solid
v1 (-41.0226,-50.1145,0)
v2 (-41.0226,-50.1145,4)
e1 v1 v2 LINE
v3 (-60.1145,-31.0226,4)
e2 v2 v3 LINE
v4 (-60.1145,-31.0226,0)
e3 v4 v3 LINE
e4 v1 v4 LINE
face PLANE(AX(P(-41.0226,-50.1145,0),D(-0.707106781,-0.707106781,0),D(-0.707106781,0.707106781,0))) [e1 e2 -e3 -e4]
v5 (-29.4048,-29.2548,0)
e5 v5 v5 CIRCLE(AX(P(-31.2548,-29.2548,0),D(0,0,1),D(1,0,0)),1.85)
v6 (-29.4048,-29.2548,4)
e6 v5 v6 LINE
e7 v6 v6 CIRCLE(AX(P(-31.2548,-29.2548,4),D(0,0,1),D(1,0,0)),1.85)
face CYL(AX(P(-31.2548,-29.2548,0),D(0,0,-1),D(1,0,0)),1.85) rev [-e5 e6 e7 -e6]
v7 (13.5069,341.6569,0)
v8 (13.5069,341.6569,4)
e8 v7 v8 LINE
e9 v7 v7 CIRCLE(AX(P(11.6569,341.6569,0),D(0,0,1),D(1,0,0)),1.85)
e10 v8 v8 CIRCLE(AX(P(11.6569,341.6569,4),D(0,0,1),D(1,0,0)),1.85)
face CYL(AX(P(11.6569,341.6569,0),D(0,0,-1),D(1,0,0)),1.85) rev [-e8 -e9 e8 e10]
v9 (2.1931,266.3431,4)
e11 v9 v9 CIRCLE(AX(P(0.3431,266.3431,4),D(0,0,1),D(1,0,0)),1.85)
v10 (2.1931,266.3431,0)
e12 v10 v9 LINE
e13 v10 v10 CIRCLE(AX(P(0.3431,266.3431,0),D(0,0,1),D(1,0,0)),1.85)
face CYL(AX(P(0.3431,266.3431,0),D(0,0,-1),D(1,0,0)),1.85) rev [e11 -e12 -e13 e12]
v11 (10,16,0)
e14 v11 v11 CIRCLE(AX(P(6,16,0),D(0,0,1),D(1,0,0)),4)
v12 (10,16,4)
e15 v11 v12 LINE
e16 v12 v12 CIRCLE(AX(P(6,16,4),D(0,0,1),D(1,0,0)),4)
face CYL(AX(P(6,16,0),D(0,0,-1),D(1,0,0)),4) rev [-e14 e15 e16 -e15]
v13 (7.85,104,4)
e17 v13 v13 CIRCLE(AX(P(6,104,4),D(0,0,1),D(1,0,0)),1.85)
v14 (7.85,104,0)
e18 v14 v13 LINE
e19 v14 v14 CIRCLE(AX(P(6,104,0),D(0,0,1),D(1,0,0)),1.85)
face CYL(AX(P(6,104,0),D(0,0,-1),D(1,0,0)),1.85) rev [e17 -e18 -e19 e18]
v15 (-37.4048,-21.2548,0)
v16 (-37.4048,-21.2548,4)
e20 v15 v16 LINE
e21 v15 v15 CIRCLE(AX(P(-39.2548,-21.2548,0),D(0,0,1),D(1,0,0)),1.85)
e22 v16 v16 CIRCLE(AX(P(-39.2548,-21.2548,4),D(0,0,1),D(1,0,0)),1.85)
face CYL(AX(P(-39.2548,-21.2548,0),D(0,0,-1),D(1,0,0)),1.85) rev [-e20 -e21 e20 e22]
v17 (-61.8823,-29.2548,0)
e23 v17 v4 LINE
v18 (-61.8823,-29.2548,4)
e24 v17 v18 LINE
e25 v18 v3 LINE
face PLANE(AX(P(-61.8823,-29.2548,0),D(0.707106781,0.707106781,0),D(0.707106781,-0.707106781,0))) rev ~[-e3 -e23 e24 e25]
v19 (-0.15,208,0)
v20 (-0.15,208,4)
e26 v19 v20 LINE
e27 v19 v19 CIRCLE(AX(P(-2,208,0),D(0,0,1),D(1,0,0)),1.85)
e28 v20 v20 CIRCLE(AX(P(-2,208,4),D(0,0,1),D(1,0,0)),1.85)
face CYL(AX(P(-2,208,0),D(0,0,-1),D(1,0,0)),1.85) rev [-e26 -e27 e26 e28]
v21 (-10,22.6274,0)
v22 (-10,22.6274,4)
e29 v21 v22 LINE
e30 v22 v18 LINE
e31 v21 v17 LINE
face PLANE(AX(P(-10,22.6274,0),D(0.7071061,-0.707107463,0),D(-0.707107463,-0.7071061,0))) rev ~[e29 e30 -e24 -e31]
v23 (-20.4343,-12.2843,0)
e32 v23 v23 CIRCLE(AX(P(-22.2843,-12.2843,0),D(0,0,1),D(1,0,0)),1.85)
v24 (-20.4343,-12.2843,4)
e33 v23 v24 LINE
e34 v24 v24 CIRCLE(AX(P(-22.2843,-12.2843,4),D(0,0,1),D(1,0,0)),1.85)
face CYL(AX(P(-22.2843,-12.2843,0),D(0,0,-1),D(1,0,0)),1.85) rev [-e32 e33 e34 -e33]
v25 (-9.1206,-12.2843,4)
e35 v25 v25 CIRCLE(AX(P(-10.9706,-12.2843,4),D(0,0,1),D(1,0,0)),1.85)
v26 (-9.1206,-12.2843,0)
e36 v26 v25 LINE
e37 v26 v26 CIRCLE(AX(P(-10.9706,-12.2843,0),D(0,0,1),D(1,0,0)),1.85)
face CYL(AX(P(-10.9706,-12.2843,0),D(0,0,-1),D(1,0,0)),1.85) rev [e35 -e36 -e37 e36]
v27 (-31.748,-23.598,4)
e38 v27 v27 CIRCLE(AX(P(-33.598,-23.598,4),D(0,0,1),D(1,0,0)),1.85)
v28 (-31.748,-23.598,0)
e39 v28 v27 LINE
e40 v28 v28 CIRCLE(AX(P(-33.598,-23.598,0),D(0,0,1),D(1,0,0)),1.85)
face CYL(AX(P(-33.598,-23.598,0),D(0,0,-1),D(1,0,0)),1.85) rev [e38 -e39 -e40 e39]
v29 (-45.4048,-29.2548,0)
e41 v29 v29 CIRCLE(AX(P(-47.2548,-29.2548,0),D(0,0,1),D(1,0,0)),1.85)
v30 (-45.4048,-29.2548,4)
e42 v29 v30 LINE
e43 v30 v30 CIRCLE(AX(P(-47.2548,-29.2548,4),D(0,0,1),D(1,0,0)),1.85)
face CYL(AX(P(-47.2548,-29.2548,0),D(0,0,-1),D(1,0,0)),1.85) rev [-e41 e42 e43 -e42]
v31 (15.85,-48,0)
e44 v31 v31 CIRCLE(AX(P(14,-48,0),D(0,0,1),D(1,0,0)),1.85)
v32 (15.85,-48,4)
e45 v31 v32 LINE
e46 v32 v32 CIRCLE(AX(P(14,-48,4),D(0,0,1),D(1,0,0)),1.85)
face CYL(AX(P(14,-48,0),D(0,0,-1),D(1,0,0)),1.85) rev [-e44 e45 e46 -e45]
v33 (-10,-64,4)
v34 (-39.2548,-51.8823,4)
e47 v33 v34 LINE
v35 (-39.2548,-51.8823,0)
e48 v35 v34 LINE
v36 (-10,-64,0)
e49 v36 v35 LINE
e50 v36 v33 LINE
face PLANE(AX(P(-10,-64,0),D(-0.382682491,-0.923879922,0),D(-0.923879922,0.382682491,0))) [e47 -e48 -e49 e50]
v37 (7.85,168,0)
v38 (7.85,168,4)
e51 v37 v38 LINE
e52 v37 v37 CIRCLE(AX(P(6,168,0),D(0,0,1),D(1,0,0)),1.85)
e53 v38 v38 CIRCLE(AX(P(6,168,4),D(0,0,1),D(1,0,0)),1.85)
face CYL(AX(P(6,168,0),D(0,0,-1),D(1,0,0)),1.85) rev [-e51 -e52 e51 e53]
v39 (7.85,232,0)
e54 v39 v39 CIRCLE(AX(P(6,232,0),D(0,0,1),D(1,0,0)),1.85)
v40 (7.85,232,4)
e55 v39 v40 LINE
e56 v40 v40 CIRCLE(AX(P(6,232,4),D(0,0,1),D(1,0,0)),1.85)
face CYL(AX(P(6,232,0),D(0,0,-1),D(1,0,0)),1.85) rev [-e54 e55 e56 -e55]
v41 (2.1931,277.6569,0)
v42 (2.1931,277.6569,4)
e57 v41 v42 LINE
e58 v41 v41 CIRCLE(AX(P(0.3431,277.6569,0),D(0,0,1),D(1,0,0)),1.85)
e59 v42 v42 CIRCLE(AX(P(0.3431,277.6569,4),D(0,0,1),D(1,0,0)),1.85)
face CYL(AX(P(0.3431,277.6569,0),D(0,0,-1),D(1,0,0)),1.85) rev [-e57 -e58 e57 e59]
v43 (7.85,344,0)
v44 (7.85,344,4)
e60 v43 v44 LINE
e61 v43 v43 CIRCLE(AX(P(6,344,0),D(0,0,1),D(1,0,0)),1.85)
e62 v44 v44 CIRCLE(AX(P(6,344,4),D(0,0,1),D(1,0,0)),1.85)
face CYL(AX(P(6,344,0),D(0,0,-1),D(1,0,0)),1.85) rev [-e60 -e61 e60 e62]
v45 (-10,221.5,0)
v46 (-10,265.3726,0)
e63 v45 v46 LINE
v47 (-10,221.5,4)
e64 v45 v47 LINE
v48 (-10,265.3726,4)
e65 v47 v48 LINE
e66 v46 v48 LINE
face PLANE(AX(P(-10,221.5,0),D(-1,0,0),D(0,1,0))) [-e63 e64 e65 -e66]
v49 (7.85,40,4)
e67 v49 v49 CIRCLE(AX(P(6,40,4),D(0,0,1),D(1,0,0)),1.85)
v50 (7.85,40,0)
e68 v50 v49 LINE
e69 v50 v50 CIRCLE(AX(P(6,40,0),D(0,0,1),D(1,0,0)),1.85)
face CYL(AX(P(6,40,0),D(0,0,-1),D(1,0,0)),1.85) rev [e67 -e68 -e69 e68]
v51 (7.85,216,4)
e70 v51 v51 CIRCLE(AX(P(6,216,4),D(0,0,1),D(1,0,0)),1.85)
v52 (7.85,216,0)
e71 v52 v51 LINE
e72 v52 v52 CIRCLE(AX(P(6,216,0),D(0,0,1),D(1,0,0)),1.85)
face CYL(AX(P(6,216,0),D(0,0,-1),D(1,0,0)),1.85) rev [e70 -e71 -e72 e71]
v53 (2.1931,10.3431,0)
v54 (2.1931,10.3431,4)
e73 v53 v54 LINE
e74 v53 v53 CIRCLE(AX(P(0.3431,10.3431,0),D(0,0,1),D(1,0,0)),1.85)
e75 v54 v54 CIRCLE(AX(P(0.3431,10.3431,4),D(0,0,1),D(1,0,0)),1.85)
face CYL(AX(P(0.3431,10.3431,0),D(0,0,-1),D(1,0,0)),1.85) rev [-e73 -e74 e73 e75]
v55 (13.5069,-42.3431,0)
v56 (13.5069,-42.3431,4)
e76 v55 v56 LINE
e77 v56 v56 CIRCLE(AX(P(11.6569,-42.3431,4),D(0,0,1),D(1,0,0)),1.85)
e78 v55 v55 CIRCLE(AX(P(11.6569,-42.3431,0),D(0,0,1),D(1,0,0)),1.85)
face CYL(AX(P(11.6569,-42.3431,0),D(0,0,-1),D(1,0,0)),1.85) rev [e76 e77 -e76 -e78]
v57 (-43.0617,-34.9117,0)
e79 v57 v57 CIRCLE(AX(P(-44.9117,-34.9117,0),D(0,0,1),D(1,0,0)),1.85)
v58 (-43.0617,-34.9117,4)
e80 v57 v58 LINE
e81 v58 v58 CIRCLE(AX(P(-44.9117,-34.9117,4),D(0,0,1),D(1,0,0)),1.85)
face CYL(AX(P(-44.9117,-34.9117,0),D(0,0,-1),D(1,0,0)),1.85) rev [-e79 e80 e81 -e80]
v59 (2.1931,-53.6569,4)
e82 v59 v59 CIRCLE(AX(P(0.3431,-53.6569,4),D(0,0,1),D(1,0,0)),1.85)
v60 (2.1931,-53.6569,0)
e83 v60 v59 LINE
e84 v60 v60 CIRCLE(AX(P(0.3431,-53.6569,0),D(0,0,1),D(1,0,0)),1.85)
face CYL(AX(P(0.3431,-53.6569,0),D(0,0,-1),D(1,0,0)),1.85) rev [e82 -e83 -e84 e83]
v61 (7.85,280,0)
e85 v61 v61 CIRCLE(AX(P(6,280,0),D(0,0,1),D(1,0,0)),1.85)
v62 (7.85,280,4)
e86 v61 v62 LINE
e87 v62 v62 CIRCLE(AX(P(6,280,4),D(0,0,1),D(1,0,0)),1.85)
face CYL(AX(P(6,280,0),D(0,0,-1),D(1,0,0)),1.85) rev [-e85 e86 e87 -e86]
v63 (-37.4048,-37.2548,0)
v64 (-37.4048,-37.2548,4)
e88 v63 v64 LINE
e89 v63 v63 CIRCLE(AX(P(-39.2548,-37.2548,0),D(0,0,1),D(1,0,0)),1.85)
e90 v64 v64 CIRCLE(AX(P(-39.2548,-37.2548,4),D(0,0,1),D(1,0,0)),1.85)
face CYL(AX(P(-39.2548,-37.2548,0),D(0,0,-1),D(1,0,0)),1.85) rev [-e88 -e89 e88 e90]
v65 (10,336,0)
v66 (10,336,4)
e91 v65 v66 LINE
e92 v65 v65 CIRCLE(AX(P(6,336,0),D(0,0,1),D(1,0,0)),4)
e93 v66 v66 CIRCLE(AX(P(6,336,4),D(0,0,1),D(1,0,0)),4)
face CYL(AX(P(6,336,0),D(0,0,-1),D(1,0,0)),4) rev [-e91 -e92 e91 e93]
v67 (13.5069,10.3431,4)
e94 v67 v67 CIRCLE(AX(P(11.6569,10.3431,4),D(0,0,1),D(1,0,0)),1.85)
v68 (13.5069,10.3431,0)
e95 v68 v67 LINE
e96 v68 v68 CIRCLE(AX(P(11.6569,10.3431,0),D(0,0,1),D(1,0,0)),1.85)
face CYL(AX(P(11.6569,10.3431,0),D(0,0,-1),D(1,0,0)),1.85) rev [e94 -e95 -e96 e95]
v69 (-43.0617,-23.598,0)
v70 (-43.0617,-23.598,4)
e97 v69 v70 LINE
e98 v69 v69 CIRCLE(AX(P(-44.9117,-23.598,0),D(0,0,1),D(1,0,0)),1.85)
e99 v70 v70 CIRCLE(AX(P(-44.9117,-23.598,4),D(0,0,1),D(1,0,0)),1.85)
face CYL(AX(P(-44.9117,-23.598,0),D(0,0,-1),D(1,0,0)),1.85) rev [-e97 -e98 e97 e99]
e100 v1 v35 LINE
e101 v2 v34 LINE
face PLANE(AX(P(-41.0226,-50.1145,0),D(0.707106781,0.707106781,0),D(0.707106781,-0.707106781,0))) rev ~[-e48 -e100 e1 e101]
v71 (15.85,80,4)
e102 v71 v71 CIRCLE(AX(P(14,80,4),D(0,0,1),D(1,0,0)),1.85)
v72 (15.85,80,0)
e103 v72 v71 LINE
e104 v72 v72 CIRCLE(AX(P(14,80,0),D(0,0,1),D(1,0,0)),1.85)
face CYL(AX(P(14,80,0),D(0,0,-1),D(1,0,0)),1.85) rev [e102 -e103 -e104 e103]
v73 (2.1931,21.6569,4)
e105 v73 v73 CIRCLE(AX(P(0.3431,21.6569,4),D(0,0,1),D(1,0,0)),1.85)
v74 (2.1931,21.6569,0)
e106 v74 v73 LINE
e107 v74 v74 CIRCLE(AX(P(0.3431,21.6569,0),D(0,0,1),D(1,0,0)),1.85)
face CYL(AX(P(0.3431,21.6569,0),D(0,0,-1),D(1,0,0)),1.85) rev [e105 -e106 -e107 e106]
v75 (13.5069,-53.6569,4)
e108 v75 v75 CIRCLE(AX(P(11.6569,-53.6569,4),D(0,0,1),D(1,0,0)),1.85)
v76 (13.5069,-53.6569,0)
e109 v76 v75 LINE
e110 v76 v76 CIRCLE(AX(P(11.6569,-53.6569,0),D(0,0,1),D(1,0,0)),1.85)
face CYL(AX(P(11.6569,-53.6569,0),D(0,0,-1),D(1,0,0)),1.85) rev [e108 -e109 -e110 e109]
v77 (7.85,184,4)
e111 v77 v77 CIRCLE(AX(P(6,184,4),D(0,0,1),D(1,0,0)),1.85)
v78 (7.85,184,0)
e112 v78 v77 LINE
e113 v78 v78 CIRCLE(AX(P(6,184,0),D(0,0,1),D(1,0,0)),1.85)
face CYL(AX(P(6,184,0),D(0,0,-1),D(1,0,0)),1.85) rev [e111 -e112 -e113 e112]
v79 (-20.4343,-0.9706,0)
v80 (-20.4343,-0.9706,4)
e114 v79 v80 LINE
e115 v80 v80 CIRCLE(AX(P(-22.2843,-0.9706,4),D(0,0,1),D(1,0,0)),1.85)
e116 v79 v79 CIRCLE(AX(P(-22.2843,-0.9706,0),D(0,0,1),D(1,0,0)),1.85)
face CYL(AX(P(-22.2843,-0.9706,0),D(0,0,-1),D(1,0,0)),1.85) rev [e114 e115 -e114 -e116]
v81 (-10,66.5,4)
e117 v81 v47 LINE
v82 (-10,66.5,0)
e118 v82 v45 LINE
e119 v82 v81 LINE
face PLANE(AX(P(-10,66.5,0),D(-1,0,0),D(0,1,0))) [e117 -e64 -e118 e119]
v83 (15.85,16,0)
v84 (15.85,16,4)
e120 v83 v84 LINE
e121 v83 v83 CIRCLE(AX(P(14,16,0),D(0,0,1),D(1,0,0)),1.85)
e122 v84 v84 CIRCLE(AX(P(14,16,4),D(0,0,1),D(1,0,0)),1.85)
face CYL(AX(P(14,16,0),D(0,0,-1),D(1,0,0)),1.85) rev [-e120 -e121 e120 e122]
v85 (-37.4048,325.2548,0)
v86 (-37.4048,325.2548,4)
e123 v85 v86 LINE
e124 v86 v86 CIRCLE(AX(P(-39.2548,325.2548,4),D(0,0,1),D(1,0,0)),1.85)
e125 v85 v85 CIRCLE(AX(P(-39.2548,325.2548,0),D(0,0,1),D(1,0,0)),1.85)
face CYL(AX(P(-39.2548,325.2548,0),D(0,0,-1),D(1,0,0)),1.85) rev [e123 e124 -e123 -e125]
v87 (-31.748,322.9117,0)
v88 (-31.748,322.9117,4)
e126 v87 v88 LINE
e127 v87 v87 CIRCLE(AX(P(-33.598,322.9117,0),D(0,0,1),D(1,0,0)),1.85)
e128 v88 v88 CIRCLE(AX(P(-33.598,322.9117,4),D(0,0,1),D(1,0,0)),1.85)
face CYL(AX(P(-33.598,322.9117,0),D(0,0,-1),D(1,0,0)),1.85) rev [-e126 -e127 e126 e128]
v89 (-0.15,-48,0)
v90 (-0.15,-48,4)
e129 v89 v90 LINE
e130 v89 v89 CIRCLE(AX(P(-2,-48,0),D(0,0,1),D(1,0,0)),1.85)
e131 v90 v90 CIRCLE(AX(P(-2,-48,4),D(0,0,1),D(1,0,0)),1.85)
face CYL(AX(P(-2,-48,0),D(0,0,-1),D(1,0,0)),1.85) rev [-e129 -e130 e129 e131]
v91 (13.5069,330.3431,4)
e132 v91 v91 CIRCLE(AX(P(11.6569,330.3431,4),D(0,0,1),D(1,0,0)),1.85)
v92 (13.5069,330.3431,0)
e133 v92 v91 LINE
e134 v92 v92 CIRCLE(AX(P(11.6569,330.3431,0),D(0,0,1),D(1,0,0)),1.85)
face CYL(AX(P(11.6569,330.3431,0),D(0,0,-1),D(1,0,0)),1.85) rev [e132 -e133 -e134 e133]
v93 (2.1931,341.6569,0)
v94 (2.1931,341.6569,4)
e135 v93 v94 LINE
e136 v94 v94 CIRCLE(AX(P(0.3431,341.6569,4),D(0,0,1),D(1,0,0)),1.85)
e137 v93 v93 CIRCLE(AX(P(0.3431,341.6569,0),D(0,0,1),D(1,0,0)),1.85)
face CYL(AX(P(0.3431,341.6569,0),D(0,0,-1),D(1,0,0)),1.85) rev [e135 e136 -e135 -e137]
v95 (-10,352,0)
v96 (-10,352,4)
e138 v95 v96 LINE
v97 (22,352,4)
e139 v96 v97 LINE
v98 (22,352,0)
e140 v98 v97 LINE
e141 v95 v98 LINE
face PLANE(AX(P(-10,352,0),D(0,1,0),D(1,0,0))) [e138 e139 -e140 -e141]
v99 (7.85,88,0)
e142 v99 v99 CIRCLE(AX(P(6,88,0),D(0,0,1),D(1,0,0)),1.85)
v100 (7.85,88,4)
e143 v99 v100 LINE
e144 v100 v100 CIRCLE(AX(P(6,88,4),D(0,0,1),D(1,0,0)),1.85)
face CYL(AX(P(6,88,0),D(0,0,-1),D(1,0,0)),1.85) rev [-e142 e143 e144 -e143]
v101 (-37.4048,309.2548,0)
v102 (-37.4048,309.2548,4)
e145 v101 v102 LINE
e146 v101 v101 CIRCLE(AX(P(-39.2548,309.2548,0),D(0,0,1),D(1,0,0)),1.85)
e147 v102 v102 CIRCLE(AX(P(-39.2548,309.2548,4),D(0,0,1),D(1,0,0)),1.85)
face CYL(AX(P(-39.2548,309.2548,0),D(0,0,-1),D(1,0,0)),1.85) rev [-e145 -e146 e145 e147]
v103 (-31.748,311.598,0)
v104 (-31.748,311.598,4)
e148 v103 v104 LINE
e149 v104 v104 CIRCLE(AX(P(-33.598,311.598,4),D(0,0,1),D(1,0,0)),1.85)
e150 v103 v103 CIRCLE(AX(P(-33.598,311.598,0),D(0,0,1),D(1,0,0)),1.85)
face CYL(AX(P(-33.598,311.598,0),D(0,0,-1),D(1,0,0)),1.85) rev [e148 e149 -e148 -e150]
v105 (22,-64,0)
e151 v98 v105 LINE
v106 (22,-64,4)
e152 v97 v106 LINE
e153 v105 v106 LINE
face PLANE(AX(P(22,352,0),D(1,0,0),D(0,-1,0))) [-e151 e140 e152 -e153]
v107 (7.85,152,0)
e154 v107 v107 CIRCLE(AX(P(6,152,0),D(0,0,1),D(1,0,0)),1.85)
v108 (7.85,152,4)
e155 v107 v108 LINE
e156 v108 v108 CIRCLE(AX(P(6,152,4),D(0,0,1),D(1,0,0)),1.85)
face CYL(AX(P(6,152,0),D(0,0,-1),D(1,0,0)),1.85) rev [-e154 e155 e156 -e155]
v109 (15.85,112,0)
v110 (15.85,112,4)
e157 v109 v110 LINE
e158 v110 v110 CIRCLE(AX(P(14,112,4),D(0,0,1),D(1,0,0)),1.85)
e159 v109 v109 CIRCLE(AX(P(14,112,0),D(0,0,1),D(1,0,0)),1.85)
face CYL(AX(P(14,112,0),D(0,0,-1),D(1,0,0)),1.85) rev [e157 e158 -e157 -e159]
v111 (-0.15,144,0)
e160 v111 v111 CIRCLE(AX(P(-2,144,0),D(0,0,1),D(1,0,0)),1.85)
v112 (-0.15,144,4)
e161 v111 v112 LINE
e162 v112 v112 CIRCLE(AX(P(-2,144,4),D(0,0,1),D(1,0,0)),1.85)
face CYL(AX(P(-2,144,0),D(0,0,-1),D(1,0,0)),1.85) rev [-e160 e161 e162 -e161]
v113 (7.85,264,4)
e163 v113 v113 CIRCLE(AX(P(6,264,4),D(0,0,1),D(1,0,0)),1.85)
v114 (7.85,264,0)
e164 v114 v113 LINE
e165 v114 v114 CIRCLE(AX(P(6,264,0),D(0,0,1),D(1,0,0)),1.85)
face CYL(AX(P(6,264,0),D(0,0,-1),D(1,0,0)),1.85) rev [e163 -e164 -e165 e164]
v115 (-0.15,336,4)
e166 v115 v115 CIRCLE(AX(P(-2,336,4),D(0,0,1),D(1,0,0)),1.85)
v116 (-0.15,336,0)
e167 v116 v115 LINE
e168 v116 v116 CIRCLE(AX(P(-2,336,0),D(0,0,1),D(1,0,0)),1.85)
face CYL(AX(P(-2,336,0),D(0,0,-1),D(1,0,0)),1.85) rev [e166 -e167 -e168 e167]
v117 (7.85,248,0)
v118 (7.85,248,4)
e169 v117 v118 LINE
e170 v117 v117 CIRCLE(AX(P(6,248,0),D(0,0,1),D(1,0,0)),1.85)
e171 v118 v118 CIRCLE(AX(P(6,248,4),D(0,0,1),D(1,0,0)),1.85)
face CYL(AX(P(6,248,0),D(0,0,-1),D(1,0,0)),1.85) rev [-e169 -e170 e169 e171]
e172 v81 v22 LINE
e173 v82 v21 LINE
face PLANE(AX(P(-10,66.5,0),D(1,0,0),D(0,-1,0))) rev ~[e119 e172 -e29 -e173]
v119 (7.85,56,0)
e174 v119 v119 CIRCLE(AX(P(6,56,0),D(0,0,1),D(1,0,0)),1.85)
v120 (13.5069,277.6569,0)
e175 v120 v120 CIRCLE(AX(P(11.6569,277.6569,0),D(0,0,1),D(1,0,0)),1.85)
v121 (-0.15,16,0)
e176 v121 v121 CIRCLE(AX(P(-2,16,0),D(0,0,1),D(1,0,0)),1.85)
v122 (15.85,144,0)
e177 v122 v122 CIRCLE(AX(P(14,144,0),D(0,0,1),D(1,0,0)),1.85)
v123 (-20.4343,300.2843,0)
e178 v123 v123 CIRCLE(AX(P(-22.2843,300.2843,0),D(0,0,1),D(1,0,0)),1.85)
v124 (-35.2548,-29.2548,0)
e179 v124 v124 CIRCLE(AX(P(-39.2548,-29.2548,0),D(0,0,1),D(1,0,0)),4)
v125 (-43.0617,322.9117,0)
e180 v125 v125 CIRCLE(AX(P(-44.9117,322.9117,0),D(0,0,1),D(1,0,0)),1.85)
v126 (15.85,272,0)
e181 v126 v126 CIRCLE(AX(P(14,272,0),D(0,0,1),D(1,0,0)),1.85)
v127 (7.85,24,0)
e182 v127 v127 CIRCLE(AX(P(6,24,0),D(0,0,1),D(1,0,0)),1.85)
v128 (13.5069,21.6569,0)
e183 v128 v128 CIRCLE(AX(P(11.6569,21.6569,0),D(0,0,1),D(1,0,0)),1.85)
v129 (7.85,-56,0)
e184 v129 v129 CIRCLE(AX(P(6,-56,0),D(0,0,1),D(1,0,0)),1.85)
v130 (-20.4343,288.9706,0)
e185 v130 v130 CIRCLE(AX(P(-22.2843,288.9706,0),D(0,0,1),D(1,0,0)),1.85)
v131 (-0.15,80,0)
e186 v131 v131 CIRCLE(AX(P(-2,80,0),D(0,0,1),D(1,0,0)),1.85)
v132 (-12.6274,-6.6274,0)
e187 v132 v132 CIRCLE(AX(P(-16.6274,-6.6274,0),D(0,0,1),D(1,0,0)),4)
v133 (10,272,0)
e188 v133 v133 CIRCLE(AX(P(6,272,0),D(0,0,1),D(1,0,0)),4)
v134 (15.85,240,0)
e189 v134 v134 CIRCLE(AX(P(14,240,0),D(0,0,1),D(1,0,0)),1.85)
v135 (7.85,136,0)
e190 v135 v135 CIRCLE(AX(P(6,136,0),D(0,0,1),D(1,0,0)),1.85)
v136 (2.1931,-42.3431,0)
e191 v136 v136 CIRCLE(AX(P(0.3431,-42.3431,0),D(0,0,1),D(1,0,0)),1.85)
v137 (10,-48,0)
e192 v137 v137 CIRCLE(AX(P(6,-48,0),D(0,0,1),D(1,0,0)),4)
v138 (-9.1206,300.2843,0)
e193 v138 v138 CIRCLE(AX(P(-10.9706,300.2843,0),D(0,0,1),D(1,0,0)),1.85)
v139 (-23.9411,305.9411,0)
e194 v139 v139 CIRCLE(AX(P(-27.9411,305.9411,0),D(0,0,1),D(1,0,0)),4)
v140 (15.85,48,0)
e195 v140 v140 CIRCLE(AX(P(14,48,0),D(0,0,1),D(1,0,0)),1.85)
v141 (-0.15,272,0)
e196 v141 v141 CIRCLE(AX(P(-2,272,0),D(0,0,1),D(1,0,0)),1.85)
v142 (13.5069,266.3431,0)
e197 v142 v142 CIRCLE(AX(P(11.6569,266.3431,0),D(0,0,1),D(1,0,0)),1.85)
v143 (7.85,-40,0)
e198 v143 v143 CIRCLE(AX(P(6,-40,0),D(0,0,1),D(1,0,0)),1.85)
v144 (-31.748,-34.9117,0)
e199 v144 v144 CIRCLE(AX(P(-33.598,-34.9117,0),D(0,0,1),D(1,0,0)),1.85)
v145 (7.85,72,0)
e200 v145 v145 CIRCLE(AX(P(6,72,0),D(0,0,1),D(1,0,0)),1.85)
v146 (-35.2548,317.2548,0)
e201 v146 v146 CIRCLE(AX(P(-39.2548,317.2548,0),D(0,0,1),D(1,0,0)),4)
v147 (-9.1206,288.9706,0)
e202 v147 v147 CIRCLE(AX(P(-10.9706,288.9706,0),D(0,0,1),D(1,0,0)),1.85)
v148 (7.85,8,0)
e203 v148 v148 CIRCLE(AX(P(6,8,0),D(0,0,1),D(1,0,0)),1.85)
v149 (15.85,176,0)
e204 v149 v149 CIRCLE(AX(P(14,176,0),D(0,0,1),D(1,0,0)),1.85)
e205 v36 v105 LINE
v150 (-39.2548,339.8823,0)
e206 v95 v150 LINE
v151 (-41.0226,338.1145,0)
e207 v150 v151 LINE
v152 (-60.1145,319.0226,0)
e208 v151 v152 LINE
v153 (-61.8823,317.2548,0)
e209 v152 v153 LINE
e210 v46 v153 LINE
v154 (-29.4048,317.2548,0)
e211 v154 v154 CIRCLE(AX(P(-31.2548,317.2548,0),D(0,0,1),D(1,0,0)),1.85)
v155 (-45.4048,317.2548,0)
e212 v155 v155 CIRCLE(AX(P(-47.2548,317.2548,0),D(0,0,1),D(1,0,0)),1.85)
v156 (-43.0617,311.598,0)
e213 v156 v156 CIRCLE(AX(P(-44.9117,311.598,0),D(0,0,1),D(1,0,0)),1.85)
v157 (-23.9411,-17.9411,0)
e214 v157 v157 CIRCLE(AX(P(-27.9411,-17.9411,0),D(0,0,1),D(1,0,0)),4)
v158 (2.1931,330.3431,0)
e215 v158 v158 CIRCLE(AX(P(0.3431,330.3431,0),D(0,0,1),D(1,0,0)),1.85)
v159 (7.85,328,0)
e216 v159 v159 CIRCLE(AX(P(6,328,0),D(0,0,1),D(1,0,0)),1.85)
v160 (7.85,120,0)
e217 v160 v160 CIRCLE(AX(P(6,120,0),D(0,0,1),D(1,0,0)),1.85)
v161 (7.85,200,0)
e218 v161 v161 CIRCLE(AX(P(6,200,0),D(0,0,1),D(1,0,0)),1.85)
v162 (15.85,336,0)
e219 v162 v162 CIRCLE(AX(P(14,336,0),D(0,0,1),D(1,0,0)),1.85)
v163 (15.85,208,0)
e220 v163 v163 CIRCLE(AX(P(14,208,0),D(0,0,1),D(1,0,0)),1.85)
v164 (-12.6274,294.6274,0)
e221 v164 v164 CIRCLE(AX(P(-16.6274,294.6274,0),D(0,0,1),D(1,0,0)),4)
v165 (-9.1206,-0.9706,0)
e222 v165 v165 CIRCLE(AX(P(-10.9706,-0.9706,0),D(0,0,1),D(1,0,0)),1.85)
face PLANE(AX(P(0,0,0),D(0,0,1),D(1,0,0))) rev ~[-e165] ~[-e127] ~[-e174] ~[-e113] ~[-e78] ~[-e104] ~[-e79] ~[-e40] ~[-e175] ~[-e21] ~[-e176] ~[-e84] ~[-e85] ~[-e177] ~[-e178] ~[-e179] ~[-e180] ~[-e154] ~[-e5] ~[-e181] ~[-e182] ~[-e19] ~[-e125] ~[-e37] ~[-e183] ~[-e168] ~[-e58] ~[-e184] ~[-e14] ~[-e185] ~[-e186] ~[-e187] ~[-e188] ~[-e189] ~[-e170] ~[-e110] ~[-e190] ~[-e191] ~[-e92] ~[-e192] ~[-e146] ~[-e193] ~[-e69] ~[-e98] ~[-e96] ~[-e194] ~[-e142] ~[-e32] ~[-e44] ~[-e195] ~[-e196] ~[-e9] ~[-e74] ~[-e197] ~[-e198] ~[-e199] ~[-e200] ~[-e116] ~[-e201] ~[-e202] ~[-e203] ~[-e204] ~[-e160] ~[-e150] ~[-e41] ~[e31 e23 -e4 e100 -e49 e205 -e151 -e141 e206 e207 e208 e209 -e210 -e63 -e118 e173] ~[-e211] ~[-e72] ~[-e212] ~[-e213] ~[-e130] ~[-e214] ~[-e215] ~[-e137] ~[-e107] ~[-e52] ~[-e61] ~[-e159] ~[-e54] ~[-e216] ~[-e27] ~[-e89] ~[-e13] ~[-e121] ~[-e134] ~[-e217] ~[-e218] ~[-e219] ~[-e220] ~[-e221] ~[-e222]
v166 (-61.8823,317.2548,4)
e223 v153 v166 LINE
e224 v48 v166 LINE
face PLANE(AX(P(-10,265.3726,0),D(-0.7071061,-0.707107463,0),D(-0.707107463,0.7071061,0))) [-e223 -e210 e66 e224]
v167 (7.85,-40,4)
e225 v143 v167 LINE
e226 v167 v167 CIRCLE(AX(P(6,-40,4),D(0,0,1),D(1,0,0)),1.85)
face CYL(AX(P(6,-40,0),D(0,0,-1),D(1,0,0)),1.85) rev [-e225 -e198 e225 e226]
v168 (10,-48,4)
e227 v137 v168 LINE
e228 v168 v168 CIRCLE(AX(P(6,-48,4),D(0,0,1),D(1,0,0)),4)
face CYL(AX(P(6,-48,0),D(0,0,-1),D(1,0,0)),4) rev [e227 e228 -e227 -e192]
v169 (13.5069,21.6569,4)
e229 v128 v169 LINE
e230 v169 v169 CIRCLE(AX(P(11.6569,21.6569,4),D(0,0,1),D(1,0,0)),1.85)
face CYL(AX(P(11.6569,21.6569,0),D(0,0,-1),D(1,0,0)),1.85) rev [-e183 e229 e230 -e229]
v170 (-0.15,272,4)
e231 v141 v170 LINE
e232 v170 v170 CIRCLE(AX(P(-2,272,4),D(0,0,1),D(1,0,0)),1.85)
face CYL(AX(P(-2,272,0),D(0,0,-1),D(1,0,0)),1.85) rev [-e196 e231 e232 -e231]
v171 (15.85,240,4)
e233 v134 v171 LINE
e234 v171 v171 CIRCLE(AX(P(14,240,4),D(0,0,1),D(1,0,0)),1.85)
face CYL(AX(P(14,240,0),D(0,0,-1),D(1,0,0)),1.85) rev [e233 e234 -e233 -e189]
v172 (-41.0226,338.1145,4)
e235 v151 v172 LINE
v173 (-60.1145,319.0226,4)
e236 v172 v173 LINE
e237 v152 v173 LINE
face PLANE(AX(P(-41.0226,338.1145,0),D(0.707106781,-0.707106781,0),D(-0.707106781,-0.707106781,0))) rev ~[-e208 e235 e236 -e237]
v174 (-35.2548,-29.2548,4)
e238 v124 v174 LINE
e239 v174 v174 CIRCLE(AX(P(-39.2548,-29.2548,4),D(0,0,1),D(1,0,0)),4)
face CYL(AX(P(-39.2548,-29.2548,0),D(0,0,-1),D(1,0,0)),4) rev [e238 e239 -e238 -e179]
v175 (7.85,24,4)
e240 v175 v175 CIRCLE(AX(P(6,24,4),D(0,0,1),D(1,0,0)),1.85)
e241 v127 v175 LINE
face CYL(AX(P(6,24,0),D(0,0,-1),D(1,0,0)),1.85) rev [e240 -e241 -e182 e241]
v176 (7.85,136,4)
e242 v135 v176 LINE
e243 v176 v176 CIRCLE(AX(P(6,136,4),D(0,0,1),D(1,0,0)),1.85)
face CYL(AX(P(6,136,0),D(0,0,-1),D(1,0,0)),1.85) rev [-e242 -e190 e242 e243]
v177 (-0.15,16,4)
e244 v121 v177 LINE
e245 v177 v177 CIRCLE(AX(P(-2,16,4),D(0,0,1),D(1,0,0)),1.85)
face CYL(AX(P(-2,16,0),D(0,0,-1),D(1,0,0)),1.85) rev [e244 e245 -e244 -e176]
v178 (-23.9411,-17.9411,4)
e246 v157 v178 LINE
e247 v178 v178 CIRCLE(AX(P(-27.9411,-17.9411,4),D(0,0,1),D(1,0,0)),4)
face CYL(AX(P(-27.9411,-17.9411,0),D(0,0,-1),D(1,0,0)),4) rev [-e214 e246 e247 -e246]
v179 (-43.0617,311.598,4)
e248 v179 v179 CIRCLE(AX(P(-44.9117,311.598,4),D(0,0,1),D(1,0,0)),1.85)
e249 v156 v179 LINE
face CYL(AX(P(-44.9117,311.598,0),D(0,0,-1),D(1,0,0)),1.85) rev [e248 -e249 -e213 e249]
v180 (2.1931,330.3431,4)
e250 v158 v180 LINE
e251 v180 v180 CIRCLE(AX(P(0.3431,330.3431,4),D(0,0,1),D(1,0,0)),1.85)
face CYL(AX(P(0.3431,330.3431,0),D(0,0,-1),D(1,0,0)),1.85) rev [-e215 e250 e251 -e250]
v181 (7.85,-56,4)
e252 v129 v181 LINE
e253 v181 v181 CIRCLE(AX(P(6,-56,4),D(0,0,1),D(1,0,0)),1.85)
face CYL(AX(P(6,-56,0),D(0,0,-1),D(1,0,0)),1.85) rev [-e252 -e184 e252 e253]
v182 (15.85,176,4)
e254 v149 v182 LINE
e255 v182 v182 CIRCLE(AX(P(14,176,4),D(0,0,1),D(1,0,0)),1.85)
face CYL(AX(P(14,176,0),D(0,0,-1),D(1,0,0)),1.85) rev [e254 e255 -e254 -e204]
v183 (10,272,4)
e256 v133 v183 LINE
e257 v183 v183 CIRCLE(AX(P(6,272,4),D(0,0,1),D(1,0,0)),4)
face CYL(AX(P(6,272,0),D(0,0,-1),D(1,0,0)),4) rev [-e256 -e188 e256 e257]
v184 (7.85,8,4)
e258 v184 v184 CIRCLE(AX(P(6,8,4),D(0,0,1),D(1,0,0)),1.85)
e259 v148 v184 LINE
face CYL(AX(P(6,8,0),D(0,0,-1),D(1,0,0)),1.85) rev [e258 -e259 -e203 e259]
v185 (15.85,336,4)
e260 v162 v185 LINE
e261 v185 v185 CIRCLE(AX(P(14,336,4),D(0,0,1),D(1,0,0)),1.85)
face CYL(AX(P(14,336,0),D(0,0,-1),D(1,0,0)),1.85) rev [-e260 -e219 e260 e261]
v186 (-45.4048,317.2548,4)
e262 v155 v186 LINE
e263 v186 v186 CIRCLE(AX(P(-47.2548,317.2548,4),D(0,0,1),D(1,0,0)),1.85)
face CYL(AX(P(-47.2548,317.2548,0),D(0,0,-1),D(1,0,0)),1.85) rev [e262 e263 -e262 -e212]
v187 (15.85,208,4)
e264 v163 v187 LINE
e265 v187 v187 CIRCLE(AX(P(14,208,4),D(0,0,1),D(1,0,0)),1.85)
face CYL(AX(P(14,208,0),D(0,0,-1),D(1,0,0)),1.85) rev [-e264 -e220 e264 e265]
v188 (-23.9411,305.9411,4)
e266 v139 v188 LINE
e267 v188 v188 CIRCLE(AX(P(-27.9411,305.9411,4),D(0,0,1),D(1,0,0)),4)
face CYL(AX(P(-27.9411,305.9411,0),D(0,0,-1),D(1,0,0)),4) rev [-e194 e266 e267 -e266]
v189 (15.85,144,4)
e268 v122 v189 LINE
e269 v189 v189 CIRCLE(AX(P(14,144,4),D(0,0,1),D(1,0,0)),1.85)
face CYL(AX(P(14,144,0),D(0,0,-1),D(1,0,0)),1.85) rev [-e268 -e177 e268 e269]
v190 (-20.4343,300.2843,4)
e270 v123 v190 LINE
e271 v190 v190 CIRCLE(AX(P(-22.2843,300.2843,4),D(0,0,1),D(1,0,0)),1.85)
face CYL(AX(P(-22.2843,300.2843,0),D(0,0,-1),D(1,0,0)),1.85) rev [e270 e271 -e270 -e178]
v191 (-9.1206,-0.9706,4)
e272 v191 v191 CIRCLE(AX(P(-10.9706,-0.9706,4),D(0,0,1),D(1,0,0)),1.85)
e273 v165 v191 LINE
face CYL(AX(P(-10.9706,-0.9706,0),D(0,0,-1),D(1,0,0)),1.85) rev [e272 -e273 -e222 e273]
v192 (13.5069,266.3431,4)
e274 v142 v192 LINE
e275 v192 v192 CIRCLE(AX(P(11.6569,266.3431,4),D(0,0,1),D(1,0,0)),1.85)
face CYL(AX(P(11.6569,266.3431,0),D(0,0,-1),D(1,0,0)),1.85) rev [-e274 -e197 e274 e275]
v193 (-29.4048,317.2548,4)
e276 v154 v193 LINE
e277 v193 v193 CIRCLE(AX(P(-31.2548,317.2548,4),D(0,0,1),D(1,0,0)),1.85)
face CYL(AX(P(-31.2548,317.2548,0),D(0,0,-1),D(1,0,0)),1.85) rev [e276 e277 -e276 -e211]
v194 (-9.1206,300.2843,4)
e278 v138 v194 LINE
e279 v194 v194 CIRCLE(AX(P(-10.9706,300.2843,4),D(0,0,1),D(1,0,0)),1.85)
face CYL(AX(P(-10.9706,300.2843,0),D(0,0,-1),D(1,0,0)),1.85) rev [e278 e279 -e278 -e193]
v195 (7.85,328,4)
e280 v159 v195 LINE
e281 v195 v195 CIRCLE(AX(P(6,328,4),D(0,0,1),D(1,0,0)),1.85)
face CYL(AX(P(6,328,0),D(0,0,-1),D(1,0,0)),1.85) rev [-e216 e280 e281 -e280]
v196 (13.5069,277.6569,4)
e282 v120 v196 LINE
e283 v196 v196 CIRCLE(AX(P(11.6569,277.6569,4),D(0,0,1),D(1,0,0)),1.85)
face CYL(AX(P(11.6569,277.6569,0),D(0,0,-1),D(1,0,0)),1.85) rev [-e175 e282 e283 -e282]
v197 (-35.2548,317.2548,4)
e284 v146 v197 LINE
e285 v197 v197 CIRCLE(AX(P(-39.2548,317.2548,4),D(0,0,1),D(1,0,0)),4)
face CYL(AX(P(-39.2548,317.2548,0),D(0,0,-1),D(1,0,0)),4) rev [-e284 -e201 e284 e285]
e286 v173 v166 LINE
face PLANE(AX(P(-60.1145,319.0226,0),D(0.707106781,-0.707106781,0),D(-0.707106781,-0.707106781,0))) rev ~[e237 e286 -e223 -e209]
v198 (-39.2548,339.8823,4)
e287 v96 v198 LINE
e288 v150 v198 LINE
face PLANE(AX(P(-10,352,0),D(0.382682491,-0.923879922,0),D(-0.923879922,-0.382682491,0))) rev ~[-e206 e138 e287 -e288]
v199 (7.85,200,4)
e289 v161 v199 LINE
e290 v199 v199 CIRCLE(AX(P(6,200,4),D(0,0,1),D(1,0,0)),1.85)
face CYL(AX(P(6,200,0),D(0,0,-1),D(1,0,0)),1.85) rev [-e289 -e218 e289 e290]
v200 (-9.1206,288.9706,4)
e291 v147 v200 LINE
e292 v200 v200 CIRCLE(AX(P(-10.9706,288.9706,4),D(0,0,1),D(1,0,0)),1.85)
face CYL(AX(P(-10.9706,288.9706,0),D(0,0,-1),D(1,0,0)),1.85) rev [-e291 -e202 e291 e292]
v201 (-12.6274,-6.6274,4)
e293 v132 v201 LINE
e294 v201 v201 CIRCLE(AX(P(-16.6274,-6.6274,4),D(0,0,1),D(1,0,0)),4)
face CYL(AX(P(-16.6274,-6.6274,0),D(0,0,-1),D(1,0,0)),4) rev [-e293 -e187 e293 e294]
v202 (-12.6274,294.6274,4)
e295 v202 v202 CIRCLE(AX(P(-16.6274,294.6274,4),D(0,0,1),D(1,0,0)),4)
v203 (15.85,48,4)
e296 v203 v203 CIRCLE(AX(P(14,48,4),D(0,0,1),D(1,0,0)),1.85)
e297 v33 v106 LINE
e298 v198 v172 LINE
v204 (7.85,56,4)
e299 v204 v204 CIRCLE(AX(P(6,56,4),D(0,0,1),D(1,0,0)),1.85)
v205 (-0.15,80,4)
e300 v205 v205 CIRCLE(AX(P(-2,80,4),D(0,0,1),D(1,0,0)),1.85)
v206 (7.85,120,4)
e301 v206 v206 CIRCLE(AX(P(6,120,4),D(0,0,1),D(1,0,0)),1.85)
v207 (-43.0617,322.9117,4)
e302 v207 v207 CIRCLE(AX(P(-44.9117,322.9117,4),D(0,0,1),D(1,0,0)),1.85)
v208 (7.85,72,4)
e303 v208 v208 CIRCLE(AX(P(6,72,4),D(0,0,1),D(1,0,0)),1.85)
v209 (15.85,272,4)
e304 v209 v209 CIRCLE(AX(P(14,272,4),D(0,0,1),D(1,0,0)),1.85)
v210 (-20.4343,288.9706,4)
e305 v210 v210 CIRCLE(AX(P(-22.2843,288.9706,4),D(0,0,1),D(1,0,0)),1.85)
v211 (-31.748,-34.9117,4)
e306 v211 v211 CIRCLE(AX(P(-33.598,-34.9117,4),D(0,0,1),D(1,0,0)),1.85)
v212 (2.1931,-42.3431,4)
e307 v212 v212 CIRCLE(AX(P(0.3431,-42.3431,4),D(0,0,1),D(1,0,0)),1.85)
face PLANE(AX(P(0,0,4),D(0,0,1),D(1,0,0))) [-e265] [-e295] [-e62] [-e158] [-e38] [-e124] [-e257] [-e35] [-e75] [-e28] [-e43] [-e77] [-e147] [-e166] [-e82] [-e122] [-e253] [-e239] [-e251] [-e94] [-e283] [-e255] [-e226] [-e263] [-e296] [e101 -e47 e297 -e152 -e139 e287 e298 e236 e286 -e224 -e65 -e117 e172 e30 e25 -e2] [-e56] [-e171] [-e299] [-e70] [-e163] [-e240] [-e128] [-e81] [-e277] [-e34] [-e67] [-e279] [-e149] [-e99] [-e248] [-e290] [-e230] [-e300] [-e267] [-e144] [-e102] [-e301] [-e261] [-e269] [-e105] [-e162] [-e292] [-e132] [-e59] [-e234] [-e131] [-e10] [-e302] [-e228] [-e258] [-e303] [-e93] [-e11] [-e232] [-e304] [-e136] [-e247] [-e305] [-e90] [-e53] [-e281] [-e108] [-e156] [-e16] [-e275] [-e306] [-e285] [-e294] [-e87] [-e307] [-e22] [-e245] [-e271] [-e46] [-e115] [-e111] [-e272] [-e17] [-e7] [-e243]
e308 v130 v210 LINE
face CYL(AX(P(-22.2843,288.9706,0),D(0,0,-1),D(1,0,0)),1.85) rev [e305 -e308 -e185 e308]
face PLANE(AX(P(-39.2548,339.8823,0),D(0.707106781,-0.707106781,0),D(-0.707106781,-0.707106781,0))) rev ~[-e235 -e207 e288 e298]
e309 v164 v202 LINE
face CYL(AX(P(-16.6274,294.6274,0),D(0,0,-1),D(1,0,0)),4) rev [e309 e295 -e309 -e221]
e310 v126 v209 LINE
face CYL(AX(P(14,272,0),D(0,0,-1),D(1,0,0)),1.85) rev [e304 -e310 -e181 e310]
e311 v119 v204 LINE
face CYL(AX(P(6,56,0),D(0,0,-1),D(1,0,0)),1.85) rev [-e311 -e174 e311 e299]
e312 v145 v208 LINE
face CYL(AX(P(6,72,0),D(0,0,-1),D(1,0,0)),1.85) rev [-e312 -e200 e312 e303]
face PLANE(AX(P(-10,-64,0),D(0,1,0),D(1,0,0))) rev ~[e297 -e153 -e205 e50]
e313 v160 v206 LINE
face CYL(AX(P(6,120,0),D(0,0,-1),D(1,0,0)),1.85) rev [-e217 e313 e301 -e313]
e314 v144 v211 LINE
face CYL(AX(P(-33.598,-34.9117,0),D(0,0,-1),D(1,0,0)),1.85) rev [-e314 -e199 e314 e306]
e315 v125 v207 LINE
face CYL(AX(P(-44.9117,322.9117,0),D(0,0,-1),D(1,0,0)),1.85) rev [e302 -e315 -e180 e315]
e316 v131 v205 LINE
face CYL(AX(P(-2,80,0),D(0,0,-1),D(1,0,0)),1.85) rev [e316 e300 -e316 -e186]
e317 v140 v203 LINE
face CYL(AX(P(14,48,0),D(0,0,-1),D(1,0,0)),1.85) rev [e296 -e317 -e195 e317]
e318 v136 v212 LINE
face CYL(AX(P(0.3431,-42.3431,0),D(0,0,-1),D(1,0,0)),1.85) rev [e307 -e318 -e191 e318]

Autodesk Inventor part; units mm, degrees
ref_plane "YZ Plane" through (0, 0, 0) normal (1, 0, 0) x (0, 1, 0)
ref_plane "XZ Plane" through (0, 0, 0) normal (0, 1, 0) x (-1, 0, 0)
ref_plane "XY Plane" through (0, 0, 0) normal (0, 0, 1) x (1, 0, 0)
sketch "Sketch1" plane through (0, 0, 0) normal (0, 0, 1) x (1, 0, 0)
  line L0 (-41.0226, 338.1145) -> (-60.1145, 319.0226)
  line L1 (-10, 66.5) -> (-10, 221.5)
  circle A0 centre (-22.2843, 288.9706) radius 1.85
  circle A1 centre (-10.9706, 288.9706) radius 1.85
  circle A2 centre (-10.9706, 300.2843) radius 1.85
  circle A3 centre (-16.6274, 294.6274) radius 4
  circle A4 centre (-22.2843, 300.2843) radius 1.85
  circle A5 centre (-27.9411, 305.9411) radius 4
  circle A6 centre (-31.2548, 317.2548) radius 1.85
  circle A7 centre (-33.598, 322.9117) radius 1.85
  circle A8 centre (-39.2548, 325.2548) radius 1.85
  circle A9 centre (-39.2548, 317.2548) radius 4
  circle A10 centre (-33.598, 311.598) radius 1.85
  circle A11 centre (-39.2548, 309.2548) radius 1.85
  circle A12 centre (-44.9117, 311.598) radius 1.85
  circle A13 centre (-47.2548, 317.2548) radius 1.85
  circle A14 centre (-44.9117, 322.9117) radius 1.85
  circle A15 centre (6, 272) radius 4
  circle A16 centre (11.6569, 277.6569) radius 1.85
  circle A17 centre (6, 280) radius 1.85
  circle A18 centre (14, 272) radius 1.85
  circle A19 centre (11.6569, 266.3431) radius 1.85
  circle A20 centre (6, 264) radius 1.85
  circle A21 centre (0.3431, 266.3431) radius 1.85
  circle A22 centre (-2, 272) radius 1.85
  circle A23 centre (0.3431, 277.6569) radius 1.85
  circle A24 centre (6, 248) radius 1.85
  circle A25 centre (6, 232) radius 1.85
  circle A26 centre (6, 216) radius 1.85
  circle A27 centre (6, 200) radius 1.85
  circle A28 centre (6, 184) radius 1.85
  circle A29 centre (6, 168) radius 1.85
  circle A30 centre (6, 8) radius 1.85
  circle A31 centre (6, 24) radius 1.85
  circle A32 centre (6, 40) radius 1.85
  circle A33 centre (6, 56) radius 1.85
  circle A34 centre (6, 72) radius 1.85
  circle A35 centre (6, 88) radius 1.85
  circle A36 centre (6, 104) radius 1.85
  circle A37 centre (6, 120) radius 1.85
  circle A38 centre (6, 136) radius 1.85
  circle A39 centre (6, 152) radius 1.85
  circle A40 centre (14, 16) radius 1.85
  circle A41 centre (11.6569, 21.6569) radius 1.85
  circle A42 centre (11.6569, 10.3431) radius 1.85
  circle A43 centre (6, 16) radius 4
  circle A44 centre (0.3431, 10.3431) radius 1.85
  circle A45 centre (-2, 16) radius 1.85
  circle A46 centre (0.3431, 21.6569) radius 1.85
  line L2 (-41.0226, -50.1145) -> (-60.1145, -31.0226)
  circle A47 centre (-31.2548, -29.2548) radius 1.85
  circle A48 centre (-33.598, -34.9117) radius 1.85
  circle A49 centre (-39.2548, -37.2548) radius 1.85
  circle A50 centre (-33.598, -23.598) radius 1.85
  circle A51 centre (-39.2548, -21.2548) radius 1.85
  circle A52 centre (-44.9117, -23.598) radius 1.85
  circle A53 centre (-44.9117, -34.9117) radius 1.85
  circle A54 centre (-47.2548, -29.2548) radius 1.85
  circle A55 centre (-39.2548, -29.2548) radius 4
  circle A56 centre (-22.2843, -12.2843) radius 1.85
  circle A57 centre (-27.9411, -17.9411) radius 4
  circle A58 centre (-10.9706, -12.2843) radius 1.85
  circle A59 centre (-10.9706, -0.9706) radius 1.85
  circle A60 centre (-16.6274, -6.6274) radius 4
  circle A61 centre (-22.2843, -0.9706) radius 1.85
  line L3 (-10, 221.5) -> (-10, 265.3726)
  line L4 (-10, 66.5) -> (-10, 22.6274)
  line L5 (-61.8823, -29.2548) -> (-60.1145, -31.0226)
  line L6 (-41.0226, -50.1145) -> (-39.2548, -51.8823)
  line L7 (-60.1145, 319.0226) -> (-61.8823, 317.2548)
  line L8 (-39.2548, 339.8823) -> (-41.0226, 338.1145)
  line L9 (-10, 22.6274) -> (-61.8823, -29.2548)
  line L10 (-10, 265.3726) -> (-61.8823, 317.2548)
  circle A62 centre (14, 112) radius 1.85 projected
  circle A63 centre (14, 144) radius 1.85 projected
  circle A64 centre (14, 176) radius 1.85 projected
  circle A65 centre (14, 208) radius 1.85 projected
  circle A66 centre (14, 240) radius 1.85 projected
  circle A67 centre (14, 80) radius 1.85 projected
  circle A68 centre (14, 48) radius 1.85 projected
  circle A69 centre (-2, 208) radius 1.85 projected
  circle A70 centre (-2, 144) radius 1.85 projected
  circle A71 centre (-2, 80) radius 1.85 projected
  circle A72 centre (14, 336) radius 1.85 projected
  circle A73 centre (11.6569, 341.6569) radius 1.85 projected
  circle A74 centre (6, 344) radius 1.85 projected
  circle A75 centre (0.3431, 341.6569) radius 1.85 projected
  circle A76 centre (-2, 336) radius 1.85 projected
  circle A77 centre (0.3431, 330.3431) radius 1.85 projected
  circle A78 centre (6, 328) radius 1.85 projected
  circle A79 centre (11.6569, 330.3431) radius 1.85 projected
  circle A80 centre (6, 336) radius 4 projected
  circle A81 centre (14, -48) radius 1.85 projected
  circle A82 centre (11.6569, -53.6569) radius 1.85 projected
  circle A83 centre (6, -56) radius 1.85 projected
  circle A84 centre (0.3431, -53.6569) radius 1.85 projected
  circle A85 centre (11.6569, -42.3431) radius 1.85 projected
  circle A86 centre (6, -40) radius 1.85 projected
  circle A87 centre (0.3431, -42.3431) radius 1.85 projected
  circle A88 centre (-2, -48) radius 1.85 projected
  circle A89 centre (6, -48) radius 4 projected
  line L11 (-10, 352) -> (22, 352)
  line L12 (-10, -64) -> (22, -64)
  line L13 (22, 352) -> (22, -64)
  line L14 (-10, 352) -> (-39.2548, 339.8823)
  line L15 (-10, -64) -> (-39.2548, -51.8823)
  point P0 (0, 0)
extrude "Extrusion3" add sketch "Sketch1" along normal blind 4
properties part number "KrakenCsideplate1"
